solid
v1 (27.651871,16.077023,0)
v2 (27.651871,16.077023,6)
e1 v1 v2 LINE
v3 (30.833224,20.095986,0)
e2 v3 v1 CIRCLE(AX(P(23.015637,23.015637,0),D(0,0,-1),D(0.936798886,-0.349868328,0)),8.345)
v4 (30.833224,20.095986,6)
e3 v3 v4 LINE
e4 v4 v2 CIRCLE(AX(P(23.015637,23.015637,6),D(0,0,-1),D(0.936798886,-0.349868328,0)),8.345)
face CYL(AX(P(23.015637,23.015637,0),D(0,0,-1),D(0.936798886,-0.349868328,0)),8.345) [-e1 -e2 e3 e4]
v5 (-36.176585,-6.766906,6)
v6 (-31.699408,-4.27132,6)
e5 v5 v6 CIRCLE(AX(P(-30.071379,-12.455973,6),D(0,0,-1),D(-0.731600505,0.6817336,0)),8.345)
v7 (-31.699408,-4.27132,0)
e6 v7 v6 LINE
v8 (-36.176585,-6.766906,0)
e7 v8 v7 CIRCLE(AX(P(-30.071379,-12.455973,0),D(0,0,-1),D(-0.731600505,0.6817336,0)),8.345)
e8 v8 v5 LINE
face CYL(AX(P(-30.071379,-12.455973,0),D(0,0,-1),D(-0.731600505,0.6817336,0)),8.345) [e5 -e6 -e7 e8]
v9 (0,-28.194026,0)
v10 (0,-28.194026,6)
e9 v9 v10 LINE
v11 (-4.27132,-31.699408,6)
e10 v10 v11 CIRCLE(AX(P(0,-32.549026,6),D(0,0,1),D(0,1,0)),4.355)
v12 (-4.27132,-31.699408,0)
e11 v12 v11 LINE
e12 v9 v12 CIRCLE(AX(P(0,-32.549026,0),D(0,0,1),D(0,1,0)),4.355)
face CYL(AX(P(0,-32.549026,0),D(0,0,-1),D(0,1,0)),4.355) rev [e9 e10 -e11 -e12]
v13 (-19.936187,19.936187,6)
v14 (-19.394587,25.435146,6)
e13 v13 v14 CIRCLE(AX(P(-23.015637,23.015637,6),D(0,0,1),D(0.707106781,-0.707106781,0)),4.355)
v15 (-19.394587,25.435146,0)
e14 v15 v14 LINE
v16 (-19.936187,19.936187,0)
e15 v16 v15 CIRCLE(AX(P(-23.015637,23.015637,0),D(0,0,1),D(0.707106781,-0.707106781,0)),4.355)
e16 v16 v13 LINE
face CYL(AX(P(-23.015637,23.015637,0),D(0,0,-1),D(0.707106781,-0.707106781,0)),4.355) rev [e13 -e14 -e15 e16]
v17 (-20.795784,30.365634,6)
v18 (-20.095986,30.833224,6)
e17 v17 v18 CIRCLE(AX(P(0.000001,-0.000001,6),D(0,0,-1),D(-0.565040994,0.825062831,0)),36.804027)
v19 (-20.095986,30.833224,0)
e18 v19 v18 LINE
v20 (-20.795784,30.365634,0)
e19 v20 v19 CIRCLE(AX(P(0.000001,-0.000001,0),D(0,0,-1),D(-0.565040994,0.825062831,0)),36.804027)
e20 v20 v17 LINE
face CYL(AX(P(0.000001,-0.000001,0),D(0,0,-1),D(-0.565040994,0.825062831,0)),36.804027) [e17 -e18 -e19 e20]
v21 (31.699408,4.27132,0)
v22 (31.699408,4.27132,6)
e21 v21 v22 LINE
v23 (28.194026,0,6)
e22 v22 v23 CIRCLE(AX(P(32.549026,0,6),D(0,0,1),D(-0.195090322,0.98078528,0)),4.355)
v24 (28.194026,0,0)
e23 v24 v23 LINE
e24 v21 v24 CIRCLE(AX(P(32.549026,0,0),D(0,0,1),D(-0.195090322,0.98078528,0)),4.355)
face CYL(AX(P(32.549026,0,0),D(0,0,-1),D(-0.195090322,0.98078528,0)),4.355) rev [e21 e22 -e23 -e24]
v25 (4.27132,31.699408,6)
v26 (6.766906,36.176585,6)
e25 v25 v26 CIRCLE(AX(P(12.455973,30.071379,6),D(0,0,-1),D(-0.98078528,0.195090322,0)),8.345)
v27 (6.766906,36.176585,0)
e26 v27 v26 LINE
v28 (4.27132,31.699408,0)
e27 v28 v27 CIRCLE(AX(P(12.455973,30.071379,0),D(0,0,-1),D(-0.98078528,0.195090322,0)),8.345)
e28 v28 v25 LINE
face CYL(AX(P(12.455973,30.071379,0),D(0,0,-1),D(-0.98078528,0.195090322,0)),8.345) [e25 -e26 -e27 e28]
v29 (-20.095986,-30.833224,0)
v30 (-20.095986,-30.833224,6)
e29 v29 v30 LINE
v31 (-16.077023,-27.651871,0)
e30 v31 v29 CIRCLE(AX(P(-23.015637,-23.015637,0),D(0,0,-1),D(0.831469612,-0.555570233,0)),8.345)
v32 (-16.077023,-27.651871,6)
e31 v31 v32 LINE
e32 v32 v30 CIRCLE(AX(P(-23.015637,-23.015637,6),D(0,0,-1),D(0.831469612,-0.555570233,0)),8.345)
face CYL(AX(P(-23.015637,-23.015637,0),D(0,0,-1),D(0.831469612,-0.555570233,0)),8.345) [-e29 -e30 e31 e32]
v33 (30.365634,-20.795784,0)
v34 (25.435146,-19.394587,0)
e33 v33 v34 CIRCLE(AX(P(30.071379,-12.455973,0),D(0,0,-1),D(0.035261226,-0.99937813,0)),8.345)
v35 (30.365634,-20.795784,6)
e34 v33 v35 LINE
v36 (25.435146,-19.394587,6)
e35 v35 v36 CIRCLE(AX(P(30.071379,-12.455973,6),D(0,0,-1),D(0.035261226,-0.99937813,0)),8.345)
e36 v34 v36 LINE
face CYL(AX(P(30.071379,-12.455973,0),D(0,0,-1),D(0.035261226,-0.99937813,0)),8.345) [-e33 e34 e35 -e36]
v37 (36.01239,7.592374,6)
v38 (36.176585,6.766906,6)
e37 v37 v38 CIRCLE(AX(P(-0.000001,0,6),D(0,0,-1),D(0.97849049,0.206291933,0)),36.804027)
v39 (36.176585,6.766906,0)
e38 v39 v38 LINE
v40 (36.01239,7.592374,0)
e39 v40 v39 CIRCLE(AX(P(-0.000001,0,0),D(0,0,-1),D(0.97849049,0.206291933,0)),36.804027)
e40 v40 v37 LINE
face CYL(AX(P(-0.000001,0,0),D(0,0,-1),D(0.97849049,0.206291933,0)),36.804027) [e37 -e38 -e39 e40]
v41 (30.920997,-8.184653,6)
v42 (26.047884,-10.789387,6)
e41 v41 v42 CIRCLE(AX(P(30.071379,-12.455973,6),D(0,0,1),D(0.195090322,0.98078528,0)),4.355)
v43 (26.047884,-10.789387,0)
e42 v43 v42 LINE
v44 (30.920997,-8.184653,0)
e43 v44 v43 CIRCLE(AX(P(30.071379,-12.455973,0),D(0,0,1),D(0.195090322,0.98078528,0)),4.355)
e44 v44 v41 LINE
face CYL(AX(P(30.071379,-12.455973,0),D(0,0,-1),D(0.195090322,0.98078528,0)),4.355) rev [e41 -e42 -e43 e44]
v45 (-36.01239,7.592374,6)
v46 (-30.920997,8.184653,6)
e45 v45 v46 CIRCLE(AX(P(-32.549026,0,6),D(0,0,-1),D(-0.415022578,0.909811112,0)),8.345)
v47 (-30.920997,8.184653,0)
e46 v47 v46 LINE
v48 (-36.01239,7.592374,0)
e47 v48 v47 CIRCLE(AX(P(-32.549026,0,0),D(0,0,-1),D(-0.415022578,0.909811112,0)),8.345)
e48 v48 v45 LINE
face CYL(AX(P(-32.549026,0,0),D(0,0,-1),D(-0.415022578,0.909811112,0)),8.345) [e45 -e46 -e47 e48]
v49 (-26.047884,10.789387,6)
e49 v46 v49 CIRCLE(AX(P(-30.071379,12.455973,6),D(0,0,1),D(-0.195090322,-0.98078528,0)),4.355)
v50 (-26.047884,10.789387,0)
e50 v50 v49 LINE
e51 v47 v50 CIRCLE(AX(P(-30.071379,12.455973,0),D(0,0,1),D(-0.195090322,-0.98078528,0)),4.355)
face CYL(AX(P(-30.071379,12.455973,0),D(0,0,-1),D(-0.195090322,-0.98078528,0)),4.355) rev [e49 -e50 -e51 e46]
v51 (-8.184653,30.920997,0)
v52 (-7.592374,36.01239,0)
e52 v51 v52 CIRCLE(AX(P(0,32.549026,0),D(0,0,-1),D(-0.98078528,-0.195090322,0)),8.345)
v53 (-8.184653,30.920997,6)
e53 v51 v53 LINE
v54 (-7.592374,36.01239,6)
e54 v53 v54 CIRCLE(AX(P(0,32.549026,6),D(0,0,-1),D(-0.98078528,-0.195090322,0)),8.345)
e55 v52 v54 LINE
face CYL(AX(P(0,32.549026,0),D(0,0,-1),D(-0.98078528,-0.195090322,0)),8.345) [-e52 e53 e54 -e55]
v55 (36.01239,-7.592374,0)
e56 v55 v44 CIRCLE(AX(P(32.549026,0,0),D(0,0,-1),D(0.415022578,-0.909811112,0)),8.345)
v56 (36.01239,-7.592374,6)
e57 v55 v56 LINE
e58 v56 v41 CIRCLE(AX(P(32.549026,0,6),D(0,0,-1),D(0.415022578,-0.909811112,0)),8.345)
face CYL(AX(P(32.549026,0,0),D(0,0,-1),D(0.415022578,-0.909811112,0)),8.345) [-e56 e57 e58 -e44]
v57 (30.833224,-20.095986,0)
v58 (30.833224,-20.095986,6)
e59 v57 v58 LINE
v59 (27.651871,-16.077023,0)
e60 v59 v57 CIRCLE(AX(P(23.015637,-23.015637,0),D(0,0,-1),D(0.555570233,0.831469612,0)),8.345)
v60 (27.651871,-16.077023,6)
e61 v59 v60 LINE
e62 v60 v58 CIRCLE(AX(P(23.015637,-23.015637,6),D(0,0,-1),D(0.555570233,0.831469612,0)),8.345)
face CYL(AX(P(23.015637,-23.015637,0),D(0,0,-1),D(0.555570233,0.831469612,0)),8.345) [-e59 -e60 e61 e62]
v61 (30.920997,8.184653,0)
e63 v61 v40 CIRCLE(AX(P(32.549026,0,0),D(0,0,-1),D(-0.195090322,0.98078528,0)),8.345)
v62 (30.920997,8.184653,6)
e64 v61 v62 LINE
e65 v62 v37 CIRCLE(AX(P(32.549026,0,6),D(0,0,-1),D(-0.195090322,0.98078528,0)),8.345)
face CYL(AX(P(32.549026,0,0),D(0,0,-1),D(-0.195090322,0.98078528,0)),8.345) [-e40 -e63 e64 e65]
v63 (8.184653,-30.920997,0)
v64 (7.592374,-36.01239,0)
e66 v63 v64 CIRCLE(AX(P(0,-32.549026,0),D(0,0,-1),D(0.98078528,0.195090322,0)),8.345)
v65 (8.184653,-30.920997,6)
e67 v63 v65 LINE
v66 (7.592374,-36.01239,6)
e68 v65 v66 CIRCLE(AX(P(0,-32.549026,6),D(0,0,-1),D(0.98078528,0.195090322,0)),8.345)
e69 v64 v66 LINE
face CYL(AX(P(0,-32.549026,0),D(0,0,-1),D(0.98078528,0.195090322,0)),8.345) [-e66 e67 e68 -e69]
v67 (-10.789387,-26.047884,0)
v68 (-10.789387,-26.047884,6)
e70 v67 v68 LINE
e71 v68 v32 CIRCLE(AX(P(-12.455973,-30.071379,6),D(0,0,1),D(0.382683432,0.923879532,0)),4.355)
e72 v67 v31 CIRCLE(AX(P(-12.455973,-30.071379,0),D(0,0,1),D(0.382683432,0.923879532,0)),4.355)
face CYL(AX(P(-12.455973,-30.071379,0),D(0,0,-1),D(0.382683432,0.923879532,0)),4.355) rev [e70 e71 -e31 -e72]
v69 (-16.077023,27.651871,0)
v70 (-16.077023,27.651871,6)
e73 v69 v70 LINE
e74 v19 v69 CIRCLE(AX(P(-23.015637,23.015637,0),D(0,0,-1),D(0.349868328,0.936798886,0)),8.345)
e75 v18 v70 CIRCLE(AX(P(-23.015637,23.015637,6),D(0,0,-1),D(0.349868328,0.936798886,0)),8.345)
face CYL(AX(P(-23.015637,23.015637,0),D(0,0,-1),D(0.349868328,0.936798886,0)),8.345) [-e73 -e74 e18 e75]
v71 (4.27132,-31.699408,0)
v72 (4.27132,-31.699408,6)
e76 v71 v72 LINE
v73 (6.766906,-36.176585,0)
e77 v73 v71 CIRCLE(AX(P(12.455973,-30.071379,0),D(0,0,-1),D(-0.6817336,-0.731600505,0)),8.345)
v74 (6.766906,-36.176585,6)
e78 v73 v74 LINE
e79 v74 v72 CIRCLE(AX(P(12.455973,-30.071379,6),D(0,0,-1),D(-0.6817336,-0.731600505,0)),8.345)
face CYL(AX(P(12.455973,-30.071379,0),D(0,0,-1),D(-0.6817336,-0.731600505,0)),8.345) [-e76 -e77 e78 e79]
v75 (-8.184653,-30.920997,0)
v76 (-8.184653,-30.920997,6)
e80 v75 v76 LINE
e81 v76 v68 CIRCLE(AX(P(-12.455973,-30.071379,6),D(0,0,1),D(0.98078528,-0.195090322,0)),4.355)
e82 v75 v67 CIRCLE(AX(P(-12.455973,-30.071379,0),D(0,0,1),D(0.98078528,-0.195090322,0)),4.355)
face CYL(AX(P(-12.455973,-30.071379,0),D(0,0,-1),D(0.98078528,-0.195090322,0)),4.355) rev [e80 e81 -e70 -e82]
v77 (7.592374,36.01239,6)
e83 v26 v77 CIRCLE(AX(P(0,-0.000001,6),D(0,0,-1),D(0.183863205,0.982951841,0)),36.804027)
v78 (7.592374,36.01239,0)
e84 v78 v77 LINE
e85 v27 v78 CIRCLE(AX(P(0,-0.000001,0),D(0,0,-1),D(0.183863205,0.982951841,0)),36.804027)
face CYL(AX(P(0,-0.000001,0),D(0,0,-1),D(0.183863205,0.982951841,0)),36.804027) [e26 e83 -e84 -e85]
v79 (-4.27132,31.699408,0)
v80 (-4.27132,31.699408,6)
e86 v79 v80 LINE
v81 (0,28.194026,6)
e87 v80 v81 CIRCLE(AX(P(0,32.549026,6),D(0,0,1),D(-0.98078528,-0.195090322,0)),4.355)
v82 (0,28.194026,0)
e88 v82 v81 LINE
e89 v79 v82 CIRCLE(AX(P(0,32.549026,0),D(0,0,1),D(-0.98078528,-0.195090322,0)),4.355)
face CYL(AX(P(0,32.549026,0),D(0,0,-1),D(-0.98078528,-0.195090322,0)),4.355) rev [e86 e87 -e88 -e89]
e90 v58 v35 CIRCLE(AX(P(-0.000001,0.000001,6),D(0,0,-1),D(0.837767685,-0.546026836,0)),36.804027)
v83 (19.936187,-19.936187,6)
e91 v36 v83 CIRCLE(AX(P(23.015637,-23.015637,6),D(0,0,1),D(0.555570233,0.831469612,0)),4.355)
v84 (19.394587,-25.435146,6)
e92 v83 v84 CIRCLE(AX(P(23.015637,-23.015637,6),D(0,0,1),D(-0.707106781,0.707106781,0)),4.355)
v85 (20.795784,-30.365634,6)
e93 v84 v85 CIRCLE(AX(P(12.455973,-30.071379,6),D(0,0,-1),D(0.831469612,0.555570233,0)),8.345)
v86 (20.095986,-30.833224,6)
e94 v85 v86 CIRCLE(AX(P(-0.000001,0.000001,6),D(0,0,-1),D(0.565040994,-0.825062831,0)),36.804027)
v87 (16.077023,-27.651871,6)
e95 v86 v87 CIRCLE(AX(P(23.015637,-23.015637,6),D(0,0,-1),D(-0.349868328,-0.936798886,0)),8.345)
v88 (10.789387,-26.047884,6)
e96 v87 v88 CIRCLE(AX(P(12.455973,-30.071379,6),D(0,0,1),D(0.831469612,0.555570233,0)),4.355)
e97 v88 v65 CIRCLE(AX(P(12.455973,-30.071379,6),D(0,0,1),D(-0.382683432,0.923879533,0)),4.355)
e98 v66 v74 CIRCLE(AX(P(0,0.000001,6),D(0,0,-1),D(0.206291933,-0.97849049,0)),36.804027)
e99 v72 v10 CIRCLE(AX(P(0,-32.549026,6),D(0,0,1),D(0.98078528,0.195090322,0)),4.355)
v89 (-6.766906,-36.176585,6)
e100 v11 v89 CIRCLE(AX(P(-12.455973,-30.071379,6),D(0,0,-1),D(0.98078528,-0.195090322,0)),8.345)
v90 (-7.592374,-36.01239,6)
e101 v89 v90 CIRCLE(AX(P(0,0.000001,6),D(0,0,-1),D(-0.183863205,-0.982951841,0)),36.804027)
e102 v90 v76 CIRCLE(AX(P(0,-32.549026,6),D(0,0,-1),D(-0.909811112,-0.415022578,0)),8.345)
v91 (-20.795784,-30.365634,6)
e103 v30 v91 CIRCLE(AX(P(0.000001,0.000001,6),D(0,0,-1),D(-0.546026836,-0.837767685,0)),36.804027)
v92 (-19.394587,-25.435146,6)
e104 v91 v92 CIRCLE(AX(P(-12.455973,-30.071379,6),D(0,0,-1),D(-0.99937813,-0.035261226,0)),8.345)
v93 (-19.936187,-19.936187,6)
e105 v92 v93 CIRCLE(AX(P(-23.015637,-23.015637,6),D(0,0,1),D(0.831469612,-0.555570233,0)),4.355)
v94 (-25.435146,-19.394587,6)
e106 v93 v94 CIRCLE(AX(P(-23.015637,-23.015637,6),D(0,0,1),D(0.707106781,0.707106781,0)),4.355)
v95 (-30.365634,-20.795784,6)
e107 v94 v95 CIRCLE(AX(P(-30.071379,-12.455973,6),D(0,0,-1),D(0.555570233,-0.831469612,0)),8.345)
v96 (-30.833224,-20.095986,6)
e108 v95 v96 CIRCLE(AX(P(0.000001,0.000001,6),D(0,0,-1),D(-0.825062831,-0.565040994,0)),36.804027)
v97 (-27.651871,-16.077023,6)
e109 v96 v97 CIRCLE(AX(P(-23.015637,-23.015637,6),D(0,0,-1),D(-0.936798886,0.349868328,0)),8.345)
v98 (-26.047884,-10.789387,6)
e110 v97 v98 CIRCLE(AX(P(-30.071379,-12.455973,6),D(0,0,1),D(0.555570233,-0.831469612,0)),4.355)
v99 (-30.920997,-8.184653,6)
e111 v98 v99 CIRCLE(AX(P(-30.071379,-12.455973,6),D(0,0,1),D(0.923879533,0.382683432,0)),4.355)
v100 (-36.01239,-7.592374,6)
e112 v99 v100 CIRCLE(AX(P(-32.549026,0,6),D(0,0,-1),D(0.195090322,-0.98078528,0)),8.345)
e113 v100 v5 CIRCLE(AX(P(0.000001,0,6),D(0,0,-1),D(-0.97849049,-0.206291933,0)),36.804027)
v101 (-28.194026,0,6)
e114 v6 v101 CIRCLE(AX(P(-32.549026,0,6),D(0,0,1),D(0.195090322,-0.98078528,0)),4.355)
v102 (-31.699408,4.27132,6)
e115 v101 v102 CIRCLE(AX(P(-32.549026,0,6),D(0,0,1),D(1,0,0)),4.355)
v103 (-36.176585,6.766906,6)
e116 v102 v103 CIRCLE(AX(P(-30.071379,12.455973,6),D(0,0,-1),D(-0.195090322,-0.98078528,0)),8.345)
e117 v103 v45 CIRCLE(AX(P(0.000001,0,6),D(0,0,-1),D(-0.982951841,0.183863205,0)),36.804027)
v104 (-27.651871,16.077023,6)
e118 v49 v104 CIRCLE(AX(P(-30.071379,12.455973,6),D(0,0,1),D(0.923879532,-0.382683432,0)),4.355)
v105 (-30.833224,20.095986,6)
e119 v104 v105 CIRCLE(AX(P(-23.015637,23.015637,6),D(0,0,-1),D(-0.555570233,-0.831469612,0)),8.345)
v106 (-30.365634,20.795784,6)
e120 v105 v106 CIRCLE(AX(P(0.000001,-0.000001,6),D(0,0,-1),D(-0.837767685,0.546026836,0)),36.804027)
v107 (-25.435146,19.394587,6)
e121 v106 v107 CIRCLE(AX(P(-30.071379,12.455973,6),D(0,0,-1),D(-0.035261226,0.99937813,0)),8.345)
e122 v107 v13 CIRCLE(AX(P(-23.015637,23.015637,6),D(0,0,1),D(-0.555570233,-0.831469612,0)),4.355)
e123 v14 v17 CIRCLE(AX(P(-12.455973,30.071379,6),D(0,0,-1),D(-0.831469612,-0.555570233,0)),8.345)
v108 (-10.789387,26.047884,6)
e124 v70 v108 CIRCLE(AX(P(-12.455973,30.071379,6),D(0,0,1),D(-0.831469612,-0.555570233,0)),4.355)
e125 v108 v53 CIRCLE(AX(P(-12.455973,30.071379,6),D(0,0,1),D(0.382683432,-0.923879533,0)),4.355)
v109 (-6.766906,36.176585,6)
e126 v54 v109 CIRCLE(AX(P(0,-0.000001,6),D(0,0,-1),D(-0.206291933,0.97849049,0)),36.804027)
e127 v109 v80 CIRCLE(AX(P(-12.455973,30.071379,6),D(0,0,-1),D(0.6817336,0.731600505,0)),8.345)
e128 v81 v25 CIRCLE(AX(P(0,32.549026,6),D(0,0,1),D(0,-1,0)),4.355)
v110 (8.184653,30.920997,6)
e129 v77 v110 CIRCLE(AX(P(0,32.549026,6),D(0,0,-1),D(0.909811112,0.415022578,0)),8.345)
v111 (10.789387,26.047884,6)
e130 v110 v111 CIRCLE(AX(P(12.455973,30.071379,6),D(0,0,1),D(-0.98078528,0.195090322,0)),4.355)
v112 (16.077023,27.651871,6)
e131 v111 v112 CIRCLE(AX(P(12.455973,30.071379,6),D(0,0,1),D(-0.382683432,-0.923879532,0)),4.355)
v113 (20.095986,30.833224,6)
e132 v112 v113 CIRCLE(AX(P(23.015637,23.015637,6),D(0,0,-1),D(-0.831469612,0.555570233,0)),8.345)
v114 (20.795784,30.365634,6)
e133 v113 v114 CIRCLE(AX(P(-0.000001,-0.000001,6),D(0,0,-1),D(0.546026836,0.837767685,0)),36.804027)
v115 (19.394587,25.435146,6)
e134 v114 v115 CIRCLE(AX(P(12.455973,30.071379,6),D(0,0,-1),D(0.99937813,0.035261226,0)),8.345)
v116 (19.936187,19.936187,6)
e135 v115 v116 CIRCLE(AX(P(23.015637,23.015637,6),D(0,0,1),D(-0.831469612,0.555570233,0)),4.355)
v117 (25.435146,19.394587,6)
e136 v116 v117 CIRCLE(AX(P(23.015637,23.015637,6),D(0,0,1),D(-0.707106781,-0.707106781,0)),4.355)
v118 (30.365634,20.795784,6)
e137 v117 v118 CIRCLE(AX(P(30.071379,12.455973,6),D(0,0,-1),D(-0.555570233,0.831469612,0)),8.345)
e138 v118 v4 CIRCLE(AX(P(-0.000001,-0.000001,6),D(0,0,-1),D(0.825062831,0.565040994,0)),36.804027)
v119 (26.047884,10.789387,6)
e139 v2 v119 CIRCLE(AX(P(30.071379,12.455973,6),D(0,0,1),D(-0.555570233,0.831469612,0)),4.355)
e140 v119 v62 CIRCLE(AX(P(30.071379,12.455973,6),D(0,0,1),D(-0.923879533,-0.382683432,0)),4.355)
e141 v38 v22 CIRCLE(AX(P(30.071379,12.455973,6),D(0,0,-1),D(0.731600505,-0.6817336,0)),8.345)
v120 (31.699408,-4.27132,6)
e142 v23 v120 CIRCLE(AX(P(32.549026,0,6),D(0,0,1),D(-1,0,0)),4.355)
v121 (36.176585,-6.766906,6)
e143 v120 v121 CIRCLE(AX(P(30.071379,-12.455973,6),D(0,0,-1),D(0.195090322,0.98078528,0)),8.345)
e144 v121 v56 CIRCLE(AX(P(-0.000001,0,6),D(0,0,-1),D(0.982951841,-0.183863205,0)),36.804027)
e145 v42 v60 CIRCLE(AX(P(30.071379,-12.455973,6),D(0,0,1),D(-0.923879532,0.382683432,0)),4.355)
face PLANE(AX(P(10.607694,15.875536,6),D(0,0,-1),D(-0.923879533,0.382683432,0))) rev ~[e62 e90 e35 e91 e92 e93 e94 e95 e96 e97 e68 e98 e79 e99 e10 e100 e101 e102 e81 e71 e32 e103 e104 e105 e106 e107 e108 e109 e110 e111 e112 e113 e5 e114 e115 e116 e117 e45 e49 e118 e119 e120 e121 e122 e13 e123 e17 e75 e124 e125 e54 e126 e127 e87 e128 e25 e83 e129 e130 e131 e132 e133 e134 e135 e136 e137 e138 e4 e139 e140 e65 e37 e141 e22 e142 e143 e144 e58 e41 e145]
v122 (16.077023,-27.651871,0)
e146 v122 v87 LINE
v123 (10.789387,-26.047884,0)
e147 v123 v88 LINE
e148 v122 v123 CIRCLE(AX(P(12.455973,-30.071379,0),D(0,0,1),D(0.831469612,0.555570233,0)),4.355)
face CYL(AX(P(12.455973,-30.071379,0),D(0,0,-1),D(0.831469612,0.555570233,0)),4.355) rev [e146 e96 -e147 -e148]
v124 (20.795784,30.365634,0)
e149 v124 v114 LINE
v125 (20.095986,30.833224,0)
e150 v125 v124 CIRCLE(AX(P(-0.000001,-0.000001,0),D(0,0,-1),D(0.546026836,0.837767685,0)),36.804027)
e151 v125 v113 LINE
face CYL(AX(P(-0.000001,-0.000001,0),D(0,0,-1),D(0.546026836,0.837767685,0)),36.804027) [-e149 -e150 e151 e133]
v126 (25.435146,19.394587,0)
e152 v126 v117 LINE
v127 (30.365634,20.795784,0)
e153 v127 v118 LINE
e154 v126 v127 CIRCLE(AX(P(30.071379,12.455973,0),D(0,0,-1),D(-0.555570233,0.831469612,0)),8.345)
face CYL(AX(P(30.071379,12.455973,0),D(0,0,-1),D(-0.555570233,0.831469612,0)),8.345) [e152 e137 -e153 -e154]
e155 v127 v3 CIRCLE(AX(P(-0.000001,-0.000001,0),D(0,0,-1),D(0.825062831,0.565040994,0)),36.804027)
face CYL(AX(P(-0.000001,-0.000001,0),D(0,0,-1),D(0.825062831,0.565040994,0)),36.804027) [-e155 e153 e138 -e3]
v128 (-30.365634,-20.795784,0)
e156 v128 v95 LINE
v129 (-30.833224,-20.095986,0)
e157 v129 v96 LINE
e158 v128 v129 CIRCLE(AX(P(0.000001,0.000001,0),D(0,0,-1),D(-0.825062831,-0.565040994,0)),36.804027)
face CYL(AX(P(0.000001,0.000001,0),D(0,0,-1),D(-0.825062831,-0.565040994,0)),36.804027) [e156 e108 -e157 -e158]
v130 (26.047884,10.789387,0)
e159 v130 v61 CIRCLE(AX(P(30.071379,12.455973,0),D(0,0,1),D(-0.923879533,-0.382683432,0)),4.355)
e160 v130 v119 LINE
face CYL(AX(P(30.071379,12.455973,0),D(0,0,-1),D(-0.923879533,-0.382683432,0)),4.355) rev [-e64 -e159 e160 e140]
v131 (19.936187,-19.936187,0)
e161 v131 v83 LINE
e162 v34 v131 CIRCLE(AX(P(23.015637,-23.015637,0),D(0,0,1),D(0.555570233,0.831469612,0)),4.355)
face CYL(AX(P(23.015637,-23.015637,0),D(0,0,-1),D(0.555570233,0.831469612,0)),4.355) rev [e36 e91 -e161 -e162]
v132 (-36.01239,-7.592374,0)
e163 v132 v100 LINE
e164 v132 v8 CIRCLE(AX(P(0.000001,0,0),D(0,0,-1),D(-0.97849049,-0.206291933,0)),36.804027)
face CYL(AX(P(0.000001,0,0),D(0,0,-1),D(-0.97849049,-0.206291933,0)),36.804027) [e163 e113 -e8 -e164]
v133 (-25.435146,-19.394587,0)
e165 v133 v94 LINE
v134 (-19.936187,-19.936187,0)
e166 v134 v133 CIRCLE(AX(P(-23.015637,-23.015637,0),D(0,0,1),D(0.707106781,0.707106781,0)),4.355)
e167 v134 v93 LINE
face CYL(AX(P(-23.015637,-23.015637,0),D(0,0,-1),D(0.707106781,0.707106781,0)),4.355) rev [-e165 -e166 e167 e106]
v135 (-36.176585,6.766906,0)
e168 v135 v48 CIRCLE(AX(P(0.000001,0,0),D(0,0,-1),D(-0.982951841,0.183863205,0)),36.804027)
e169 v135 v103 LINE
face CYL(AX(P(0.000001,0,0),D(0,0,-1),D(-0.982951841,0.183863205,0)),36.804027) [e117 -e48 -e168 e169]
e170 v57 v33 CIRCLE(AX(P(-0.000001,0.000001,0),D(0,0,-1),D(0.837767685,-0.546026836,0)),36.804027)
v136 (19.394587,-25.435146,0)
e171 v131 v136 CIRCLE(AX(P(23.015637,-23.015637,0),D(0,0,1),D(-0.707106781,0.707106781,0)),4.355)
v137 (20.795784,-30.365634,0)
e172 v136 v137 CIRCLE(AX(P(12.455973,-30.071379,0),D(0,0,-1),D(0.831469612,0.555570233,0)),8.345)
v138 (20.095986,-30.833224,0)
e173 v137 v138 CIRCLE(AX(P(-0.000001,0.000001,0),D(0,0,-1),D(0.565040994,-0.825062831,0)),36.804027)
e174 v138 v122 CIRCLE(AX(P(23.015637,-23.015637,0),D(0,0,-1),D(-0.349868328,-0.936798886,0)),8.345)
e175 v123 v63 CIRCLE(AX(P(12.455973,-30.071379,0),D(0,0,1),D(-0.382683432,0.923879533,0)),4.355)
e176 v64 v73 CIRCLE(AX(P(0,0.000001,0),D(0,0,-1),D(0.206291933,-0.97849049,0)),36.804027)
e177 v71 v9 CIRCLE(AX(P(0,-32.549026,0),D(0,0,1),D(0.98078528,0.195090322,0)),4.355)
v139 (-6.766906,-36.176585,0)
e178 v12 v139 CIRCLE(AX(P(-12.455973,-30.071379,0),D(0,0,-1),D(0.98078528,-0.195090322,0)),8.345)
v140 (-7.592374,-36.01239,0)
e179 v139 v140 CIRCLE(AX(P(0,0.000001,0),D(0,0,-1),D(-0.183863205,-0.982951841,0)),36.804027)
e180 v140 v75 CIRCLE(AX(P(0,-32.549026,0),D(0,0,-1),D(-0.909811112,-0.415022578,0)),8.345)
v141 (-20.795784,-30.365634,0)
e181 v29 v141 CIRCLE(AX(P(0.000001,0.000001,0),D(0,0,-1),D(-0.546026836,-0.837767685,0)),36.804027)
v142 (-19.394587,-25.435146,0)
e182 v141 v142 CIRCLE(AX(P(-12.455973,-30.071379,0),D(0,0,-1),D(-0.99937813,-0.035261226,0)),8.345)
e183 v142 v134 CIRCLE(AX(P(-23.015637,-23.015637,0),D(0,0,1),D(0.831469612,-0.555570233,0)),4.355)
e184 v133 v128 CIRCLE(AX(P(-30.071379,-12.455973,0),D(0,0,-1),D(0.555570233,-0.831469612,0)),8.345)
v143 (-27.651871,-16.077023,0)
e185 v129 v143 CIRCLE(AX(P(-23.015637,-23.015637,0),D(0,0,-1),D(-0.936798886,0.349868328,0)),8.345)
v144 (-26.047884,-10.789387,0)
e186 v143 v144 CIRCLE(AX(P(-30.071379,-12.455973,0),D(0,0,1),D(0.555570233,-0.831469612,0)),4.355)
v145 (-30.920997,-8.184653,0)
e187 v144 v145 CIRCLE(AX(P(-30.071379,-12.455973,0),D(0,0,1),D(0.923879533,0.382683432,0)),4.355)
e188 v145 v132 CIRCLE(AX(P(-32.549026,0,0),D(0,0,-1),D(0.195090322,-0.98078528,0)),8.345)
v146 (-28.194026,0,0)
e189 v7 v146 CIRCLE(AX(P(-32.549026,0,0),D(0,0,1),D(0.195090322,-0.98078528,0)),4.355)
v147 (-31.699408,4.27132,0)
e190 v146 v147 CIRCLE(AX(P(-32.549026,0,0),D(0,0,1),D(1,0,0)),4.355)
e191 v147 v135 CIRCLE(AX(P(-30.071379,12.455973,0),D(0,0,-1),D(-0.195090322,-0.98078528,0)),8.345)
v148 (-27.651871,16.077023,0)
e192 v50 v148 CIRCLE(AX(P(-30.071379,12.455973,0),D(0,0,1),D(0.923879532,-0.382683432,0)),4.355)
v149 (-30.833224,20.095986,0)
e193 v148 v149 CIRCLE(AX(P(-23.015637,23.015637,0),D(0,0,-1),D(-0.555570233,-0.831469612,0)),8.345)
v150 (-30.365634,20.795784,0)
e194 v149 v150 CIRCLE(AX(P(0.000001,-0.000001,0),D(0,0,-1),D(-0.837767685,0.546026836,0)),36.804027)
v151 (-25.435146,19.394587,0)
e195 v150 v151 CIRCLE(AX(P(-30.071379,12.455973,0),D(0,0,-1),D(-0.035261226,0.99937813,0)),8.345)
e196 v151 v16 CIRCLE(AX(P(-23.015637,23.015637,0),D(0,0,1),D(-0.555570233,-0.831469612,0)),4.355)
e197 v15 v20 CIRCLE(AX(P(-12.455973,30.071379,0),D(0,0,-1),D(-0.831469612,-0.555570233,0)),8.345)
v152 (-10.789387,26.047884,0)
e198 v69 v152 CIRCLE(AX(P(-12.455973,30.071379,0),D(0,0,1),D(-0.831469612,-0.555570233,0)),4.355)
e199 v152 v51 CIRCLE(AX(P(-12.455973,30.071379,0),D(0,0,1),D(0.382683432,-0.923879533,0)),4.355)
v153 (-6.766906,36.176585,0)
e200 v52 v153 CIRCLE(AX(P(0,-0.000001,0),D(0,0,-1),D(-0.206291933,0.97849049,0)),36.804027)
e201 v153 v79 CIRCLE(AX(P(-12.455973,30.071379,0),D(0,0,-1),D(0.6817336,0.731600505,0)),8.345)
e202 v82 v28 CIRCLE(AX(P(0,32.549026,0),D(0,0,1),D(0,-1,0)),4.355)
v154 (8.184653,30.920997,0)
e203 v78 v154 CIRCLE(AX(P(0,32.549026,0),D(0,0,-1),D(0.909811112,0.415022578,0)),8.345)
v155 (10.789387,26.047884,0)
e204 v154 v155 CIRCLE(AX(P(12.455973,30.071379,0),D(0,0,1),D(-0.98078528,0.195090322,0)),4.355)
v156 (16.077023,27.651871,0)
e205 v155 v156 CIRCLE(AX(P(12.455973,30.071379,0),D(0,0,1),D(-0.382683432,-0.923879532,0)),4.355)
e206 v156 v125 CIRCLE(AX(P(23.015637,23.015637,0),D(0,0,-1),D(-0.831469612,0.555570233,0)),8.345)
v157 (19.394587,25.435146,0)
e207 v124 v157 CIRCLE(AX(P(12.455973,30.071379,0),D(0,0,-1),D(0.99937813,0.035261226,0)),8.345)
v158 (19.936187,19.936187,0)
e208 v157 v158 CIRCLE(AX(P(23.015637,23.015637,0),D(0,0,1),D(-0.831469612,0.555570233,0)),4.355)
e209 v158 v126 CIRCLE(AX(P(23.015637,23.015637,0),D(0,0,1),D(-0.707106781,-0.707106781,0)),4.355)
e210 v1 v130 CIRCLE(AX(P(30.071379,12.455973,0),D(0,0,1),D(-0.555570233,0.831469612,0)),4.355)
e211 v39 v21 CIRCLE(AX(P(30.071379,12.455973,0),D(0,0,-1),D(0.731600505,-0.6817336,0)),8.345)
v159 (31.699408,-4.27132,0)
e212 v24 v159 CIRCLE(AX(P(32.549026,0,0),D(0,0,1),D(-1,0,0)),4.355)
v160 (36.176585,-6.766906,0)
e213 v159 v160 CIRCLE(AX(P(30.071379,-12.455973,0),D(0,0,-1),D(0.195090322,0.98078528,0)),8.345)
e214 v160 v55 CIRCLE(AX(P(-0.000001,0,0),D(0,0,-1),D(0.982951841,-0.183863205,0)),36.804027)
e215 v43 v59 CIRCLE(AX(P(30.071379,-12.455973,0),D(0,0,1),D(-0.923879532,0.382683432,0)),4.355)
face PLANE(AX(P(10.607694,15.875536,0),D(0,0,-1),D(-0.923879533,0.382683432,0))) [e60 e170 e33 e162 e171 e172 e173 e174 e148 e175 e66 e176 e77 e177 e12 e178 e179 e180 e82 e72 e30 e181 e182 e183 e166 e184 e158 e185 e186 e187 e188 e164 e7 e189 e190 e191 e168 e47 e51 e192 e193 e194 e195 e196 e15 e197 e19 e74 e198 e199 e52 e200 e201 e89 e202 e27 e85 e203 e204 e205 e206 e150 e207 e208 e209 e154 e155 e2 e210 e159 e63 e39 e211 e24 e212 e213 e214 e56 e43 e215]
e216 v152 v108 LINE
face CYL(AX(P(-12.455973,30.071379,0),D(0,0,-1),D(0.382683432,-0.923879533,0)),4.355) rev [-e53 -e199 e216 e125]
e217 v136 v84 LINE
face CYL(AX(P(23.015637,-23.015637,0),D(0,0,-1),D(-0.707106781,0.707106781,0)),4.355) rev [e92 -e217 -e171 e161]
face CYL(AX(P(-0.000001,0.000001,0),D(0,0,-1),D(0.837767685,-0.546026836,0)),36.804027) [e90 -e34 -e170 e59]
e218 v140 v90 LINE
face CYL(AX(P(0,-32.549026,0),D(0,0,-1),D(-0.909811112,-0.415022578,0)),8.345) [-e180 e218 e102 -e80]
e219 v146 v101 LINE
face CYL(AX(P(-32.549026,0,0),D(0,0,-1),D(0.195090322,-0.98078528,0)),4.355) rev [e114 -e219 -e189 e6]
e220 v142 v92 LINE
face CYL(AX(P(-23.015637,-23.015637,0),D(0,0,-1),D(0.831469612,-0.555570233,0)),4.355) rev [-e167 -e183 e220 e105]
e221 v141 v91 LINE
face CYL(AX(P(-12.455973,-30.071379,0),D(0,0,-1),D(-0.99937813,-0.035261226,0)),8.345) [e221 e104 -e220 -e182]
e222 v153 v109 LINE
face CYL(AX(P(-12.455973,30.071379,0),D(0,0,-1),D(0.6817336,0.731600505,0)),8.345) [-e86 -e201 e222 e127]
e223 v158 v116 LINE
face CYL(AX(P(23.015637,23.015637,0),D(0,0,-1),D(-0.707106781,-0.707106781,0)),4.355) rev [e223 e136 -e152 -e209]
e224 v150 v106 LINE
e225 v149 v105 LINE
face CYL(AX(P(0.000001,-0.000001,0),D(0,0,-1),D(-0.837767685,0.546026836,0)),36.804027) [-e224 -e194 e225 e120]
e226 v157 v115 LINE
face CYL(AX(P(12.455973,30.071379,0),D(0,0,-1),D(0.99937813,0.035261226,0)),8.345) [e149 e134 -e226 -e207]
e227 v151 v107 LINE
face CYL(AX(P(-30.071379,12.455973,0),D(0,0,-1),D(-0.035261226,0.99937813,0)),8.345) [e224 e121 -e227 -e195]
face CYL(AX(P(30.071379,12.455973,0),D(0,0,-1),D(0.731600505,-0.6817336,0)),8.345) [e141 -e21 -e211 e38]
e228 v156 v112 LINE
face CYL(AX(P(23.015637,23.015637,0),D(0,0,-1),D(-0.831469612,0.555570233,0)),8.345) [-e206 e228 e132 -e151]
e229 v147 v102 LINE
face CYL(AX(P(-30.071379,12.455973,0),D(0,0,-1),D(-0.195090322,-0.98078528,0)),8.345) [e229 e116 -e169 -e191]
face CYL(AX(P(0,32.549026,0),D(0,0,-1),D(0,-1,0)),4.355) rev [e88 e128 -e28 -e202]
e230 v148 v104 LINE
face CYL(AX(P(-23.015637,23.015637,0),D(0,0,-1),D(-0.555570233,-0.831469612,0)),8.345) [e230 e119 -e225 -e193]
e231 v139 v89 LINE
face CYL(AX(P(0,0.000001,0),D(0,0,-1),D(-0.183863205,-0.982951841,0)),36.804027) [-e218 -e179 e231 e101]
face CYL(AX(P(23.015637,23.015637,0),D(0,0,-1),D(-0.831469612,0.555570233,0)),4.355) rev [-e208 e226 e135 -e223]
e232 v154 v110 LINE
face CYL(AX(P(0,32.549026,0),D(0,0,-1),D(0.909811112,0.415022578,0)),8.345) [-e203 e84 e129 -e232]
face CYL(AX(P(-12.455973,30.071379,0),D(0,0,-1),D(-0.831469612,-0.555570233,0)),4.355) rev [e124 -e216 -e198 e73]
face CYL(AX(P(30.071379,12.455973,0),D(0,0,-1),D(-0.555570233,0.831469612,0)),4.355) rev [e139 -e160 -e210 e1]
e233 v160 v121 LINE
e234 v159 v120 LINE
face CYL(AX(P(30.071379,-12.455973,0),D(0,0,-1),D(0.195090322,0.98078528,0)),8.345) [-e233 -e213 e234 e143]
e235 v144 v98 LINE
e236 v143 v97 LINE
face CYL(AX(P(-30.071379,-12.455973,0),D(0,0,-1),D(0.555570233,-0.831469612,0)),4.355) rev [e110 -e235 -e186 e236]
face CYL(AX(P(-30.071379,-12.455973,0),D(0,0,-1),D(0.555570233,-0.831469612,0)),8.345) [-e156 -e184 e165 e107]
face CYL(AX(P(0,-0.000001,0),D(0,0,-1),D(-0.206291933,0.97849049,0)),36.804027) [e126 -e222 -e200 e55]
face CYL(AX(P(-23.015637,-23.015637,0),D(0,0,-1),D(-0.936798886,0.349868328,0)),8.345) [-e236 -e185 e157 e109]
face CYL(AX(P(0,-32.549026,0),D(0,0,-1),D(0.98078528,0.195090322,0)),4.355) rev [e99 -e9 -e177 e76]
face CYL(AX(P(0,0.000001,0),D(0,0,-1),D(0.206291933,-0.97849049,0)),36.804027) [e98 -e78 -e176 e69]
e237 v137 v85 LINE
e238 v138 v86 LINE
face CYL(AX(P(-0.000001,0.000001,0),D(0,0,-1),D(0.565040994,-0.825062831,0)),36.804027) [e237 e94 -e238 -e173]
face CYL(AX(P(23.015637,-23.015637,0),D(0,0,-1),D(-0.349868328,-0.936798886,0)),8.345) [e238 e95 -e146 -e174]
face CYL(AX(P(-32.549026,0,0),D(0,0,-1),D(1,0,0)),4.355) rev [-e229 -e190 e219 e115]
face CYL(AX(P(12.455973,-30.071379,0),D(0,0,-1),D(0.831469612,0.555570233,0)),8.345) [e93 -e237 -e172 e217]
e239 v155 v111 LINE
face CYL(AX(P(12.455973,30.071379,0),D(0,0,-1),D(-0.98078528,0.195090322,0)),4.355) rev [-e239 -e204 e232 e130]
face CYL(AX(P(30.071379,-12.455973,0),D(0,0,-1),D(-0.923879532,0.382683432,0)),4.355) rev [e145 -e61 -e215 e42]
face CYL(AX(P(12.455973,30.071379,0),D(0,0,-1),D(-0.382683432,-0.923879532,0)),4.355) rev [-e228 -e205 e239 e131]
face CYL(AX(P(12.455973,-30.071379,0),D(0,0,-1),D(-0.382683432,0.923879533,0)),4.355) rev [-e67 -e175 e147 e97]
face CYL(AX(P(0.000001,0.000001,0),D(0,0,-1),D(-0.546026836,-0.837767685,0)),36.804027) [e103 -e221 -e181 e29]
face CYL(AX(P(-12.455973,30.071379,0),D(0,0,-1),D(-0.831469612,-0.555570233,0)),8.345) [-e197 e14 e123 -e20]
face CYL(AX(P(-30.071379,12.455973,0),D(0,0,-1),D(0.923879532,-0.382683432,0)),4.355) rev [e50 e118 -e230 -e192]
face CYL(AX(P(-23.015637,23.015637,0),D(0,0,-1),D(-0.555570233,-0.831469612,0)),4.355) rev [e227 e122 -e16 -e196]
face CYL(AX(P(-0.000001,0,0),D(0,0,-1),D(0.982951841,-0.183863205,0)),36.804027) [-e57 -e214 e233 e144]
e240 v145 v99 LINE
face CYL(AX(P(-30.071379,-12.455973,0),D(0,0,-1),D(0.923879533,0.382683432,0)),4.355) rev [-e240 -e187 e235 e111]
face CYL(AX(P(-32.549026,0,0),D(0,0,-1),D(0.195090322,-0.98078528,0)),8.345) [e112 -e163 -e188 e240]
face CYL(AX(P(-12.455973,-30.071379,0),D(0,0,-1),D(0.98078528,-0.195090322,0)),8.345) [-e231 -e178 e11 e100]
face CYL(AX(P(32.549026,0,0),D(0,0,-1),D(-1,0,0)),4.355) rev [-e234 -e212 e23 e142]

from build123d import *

# Parameters (mm, degrees)
EXTRUDE_1_DEPTH          = 6
PATTERN_CIRCULAR_1_COUNT = 16


with BuildPart() as part:
    # Эскиз2 → Бобышка-Вытянуть1 (new body)
    with BuildSketch(Plane.XY):
        with BuildLine():
            Line((0, 0), (0, 28.194026186))
            ThreePointArc((0, 28.194026186), (2.762782753, 29.182565662), (4.271319896, 31.699407834))
            ThreePointArc((4.271319896, 31.699407834), (5.166850576, 34.134348257), (6.766906166, 36.176585307))
            ThreePointArc((6.766906166, 36.176585307), (7.18010932, 36.096847143), (7.592373731, 36.012389599))
            ThreePointArc((7.592373731, 36.012389599), (8.289102058, 33.513293823), (8.184653165, 30.920997449))
            ThreePointArc((8.184653165, 30.920997449), (8.615205955, 28.018446308), (10.789386713, 26.047883733))
            Line((10.789386713, 26.047883733), (0, 0))
        make_face()
    extrude_1 = extrude(amount=EXTRUDE_1_DEPTH)

    # Круговой массив1: Бобышка-Вытянуть1 ×16 about axis
    pattern_circular_1_axis = Axis((0, 0, 0), (0, 0, 1))
    for i in range(1, PATTERN_CIRCULAR_1_COUNT):
        add(extrude_1.rotate(pattern_circular_1_axis, i * 360 / PATTERN_CIRCULAR_1_COUNT))


solid = part.part
